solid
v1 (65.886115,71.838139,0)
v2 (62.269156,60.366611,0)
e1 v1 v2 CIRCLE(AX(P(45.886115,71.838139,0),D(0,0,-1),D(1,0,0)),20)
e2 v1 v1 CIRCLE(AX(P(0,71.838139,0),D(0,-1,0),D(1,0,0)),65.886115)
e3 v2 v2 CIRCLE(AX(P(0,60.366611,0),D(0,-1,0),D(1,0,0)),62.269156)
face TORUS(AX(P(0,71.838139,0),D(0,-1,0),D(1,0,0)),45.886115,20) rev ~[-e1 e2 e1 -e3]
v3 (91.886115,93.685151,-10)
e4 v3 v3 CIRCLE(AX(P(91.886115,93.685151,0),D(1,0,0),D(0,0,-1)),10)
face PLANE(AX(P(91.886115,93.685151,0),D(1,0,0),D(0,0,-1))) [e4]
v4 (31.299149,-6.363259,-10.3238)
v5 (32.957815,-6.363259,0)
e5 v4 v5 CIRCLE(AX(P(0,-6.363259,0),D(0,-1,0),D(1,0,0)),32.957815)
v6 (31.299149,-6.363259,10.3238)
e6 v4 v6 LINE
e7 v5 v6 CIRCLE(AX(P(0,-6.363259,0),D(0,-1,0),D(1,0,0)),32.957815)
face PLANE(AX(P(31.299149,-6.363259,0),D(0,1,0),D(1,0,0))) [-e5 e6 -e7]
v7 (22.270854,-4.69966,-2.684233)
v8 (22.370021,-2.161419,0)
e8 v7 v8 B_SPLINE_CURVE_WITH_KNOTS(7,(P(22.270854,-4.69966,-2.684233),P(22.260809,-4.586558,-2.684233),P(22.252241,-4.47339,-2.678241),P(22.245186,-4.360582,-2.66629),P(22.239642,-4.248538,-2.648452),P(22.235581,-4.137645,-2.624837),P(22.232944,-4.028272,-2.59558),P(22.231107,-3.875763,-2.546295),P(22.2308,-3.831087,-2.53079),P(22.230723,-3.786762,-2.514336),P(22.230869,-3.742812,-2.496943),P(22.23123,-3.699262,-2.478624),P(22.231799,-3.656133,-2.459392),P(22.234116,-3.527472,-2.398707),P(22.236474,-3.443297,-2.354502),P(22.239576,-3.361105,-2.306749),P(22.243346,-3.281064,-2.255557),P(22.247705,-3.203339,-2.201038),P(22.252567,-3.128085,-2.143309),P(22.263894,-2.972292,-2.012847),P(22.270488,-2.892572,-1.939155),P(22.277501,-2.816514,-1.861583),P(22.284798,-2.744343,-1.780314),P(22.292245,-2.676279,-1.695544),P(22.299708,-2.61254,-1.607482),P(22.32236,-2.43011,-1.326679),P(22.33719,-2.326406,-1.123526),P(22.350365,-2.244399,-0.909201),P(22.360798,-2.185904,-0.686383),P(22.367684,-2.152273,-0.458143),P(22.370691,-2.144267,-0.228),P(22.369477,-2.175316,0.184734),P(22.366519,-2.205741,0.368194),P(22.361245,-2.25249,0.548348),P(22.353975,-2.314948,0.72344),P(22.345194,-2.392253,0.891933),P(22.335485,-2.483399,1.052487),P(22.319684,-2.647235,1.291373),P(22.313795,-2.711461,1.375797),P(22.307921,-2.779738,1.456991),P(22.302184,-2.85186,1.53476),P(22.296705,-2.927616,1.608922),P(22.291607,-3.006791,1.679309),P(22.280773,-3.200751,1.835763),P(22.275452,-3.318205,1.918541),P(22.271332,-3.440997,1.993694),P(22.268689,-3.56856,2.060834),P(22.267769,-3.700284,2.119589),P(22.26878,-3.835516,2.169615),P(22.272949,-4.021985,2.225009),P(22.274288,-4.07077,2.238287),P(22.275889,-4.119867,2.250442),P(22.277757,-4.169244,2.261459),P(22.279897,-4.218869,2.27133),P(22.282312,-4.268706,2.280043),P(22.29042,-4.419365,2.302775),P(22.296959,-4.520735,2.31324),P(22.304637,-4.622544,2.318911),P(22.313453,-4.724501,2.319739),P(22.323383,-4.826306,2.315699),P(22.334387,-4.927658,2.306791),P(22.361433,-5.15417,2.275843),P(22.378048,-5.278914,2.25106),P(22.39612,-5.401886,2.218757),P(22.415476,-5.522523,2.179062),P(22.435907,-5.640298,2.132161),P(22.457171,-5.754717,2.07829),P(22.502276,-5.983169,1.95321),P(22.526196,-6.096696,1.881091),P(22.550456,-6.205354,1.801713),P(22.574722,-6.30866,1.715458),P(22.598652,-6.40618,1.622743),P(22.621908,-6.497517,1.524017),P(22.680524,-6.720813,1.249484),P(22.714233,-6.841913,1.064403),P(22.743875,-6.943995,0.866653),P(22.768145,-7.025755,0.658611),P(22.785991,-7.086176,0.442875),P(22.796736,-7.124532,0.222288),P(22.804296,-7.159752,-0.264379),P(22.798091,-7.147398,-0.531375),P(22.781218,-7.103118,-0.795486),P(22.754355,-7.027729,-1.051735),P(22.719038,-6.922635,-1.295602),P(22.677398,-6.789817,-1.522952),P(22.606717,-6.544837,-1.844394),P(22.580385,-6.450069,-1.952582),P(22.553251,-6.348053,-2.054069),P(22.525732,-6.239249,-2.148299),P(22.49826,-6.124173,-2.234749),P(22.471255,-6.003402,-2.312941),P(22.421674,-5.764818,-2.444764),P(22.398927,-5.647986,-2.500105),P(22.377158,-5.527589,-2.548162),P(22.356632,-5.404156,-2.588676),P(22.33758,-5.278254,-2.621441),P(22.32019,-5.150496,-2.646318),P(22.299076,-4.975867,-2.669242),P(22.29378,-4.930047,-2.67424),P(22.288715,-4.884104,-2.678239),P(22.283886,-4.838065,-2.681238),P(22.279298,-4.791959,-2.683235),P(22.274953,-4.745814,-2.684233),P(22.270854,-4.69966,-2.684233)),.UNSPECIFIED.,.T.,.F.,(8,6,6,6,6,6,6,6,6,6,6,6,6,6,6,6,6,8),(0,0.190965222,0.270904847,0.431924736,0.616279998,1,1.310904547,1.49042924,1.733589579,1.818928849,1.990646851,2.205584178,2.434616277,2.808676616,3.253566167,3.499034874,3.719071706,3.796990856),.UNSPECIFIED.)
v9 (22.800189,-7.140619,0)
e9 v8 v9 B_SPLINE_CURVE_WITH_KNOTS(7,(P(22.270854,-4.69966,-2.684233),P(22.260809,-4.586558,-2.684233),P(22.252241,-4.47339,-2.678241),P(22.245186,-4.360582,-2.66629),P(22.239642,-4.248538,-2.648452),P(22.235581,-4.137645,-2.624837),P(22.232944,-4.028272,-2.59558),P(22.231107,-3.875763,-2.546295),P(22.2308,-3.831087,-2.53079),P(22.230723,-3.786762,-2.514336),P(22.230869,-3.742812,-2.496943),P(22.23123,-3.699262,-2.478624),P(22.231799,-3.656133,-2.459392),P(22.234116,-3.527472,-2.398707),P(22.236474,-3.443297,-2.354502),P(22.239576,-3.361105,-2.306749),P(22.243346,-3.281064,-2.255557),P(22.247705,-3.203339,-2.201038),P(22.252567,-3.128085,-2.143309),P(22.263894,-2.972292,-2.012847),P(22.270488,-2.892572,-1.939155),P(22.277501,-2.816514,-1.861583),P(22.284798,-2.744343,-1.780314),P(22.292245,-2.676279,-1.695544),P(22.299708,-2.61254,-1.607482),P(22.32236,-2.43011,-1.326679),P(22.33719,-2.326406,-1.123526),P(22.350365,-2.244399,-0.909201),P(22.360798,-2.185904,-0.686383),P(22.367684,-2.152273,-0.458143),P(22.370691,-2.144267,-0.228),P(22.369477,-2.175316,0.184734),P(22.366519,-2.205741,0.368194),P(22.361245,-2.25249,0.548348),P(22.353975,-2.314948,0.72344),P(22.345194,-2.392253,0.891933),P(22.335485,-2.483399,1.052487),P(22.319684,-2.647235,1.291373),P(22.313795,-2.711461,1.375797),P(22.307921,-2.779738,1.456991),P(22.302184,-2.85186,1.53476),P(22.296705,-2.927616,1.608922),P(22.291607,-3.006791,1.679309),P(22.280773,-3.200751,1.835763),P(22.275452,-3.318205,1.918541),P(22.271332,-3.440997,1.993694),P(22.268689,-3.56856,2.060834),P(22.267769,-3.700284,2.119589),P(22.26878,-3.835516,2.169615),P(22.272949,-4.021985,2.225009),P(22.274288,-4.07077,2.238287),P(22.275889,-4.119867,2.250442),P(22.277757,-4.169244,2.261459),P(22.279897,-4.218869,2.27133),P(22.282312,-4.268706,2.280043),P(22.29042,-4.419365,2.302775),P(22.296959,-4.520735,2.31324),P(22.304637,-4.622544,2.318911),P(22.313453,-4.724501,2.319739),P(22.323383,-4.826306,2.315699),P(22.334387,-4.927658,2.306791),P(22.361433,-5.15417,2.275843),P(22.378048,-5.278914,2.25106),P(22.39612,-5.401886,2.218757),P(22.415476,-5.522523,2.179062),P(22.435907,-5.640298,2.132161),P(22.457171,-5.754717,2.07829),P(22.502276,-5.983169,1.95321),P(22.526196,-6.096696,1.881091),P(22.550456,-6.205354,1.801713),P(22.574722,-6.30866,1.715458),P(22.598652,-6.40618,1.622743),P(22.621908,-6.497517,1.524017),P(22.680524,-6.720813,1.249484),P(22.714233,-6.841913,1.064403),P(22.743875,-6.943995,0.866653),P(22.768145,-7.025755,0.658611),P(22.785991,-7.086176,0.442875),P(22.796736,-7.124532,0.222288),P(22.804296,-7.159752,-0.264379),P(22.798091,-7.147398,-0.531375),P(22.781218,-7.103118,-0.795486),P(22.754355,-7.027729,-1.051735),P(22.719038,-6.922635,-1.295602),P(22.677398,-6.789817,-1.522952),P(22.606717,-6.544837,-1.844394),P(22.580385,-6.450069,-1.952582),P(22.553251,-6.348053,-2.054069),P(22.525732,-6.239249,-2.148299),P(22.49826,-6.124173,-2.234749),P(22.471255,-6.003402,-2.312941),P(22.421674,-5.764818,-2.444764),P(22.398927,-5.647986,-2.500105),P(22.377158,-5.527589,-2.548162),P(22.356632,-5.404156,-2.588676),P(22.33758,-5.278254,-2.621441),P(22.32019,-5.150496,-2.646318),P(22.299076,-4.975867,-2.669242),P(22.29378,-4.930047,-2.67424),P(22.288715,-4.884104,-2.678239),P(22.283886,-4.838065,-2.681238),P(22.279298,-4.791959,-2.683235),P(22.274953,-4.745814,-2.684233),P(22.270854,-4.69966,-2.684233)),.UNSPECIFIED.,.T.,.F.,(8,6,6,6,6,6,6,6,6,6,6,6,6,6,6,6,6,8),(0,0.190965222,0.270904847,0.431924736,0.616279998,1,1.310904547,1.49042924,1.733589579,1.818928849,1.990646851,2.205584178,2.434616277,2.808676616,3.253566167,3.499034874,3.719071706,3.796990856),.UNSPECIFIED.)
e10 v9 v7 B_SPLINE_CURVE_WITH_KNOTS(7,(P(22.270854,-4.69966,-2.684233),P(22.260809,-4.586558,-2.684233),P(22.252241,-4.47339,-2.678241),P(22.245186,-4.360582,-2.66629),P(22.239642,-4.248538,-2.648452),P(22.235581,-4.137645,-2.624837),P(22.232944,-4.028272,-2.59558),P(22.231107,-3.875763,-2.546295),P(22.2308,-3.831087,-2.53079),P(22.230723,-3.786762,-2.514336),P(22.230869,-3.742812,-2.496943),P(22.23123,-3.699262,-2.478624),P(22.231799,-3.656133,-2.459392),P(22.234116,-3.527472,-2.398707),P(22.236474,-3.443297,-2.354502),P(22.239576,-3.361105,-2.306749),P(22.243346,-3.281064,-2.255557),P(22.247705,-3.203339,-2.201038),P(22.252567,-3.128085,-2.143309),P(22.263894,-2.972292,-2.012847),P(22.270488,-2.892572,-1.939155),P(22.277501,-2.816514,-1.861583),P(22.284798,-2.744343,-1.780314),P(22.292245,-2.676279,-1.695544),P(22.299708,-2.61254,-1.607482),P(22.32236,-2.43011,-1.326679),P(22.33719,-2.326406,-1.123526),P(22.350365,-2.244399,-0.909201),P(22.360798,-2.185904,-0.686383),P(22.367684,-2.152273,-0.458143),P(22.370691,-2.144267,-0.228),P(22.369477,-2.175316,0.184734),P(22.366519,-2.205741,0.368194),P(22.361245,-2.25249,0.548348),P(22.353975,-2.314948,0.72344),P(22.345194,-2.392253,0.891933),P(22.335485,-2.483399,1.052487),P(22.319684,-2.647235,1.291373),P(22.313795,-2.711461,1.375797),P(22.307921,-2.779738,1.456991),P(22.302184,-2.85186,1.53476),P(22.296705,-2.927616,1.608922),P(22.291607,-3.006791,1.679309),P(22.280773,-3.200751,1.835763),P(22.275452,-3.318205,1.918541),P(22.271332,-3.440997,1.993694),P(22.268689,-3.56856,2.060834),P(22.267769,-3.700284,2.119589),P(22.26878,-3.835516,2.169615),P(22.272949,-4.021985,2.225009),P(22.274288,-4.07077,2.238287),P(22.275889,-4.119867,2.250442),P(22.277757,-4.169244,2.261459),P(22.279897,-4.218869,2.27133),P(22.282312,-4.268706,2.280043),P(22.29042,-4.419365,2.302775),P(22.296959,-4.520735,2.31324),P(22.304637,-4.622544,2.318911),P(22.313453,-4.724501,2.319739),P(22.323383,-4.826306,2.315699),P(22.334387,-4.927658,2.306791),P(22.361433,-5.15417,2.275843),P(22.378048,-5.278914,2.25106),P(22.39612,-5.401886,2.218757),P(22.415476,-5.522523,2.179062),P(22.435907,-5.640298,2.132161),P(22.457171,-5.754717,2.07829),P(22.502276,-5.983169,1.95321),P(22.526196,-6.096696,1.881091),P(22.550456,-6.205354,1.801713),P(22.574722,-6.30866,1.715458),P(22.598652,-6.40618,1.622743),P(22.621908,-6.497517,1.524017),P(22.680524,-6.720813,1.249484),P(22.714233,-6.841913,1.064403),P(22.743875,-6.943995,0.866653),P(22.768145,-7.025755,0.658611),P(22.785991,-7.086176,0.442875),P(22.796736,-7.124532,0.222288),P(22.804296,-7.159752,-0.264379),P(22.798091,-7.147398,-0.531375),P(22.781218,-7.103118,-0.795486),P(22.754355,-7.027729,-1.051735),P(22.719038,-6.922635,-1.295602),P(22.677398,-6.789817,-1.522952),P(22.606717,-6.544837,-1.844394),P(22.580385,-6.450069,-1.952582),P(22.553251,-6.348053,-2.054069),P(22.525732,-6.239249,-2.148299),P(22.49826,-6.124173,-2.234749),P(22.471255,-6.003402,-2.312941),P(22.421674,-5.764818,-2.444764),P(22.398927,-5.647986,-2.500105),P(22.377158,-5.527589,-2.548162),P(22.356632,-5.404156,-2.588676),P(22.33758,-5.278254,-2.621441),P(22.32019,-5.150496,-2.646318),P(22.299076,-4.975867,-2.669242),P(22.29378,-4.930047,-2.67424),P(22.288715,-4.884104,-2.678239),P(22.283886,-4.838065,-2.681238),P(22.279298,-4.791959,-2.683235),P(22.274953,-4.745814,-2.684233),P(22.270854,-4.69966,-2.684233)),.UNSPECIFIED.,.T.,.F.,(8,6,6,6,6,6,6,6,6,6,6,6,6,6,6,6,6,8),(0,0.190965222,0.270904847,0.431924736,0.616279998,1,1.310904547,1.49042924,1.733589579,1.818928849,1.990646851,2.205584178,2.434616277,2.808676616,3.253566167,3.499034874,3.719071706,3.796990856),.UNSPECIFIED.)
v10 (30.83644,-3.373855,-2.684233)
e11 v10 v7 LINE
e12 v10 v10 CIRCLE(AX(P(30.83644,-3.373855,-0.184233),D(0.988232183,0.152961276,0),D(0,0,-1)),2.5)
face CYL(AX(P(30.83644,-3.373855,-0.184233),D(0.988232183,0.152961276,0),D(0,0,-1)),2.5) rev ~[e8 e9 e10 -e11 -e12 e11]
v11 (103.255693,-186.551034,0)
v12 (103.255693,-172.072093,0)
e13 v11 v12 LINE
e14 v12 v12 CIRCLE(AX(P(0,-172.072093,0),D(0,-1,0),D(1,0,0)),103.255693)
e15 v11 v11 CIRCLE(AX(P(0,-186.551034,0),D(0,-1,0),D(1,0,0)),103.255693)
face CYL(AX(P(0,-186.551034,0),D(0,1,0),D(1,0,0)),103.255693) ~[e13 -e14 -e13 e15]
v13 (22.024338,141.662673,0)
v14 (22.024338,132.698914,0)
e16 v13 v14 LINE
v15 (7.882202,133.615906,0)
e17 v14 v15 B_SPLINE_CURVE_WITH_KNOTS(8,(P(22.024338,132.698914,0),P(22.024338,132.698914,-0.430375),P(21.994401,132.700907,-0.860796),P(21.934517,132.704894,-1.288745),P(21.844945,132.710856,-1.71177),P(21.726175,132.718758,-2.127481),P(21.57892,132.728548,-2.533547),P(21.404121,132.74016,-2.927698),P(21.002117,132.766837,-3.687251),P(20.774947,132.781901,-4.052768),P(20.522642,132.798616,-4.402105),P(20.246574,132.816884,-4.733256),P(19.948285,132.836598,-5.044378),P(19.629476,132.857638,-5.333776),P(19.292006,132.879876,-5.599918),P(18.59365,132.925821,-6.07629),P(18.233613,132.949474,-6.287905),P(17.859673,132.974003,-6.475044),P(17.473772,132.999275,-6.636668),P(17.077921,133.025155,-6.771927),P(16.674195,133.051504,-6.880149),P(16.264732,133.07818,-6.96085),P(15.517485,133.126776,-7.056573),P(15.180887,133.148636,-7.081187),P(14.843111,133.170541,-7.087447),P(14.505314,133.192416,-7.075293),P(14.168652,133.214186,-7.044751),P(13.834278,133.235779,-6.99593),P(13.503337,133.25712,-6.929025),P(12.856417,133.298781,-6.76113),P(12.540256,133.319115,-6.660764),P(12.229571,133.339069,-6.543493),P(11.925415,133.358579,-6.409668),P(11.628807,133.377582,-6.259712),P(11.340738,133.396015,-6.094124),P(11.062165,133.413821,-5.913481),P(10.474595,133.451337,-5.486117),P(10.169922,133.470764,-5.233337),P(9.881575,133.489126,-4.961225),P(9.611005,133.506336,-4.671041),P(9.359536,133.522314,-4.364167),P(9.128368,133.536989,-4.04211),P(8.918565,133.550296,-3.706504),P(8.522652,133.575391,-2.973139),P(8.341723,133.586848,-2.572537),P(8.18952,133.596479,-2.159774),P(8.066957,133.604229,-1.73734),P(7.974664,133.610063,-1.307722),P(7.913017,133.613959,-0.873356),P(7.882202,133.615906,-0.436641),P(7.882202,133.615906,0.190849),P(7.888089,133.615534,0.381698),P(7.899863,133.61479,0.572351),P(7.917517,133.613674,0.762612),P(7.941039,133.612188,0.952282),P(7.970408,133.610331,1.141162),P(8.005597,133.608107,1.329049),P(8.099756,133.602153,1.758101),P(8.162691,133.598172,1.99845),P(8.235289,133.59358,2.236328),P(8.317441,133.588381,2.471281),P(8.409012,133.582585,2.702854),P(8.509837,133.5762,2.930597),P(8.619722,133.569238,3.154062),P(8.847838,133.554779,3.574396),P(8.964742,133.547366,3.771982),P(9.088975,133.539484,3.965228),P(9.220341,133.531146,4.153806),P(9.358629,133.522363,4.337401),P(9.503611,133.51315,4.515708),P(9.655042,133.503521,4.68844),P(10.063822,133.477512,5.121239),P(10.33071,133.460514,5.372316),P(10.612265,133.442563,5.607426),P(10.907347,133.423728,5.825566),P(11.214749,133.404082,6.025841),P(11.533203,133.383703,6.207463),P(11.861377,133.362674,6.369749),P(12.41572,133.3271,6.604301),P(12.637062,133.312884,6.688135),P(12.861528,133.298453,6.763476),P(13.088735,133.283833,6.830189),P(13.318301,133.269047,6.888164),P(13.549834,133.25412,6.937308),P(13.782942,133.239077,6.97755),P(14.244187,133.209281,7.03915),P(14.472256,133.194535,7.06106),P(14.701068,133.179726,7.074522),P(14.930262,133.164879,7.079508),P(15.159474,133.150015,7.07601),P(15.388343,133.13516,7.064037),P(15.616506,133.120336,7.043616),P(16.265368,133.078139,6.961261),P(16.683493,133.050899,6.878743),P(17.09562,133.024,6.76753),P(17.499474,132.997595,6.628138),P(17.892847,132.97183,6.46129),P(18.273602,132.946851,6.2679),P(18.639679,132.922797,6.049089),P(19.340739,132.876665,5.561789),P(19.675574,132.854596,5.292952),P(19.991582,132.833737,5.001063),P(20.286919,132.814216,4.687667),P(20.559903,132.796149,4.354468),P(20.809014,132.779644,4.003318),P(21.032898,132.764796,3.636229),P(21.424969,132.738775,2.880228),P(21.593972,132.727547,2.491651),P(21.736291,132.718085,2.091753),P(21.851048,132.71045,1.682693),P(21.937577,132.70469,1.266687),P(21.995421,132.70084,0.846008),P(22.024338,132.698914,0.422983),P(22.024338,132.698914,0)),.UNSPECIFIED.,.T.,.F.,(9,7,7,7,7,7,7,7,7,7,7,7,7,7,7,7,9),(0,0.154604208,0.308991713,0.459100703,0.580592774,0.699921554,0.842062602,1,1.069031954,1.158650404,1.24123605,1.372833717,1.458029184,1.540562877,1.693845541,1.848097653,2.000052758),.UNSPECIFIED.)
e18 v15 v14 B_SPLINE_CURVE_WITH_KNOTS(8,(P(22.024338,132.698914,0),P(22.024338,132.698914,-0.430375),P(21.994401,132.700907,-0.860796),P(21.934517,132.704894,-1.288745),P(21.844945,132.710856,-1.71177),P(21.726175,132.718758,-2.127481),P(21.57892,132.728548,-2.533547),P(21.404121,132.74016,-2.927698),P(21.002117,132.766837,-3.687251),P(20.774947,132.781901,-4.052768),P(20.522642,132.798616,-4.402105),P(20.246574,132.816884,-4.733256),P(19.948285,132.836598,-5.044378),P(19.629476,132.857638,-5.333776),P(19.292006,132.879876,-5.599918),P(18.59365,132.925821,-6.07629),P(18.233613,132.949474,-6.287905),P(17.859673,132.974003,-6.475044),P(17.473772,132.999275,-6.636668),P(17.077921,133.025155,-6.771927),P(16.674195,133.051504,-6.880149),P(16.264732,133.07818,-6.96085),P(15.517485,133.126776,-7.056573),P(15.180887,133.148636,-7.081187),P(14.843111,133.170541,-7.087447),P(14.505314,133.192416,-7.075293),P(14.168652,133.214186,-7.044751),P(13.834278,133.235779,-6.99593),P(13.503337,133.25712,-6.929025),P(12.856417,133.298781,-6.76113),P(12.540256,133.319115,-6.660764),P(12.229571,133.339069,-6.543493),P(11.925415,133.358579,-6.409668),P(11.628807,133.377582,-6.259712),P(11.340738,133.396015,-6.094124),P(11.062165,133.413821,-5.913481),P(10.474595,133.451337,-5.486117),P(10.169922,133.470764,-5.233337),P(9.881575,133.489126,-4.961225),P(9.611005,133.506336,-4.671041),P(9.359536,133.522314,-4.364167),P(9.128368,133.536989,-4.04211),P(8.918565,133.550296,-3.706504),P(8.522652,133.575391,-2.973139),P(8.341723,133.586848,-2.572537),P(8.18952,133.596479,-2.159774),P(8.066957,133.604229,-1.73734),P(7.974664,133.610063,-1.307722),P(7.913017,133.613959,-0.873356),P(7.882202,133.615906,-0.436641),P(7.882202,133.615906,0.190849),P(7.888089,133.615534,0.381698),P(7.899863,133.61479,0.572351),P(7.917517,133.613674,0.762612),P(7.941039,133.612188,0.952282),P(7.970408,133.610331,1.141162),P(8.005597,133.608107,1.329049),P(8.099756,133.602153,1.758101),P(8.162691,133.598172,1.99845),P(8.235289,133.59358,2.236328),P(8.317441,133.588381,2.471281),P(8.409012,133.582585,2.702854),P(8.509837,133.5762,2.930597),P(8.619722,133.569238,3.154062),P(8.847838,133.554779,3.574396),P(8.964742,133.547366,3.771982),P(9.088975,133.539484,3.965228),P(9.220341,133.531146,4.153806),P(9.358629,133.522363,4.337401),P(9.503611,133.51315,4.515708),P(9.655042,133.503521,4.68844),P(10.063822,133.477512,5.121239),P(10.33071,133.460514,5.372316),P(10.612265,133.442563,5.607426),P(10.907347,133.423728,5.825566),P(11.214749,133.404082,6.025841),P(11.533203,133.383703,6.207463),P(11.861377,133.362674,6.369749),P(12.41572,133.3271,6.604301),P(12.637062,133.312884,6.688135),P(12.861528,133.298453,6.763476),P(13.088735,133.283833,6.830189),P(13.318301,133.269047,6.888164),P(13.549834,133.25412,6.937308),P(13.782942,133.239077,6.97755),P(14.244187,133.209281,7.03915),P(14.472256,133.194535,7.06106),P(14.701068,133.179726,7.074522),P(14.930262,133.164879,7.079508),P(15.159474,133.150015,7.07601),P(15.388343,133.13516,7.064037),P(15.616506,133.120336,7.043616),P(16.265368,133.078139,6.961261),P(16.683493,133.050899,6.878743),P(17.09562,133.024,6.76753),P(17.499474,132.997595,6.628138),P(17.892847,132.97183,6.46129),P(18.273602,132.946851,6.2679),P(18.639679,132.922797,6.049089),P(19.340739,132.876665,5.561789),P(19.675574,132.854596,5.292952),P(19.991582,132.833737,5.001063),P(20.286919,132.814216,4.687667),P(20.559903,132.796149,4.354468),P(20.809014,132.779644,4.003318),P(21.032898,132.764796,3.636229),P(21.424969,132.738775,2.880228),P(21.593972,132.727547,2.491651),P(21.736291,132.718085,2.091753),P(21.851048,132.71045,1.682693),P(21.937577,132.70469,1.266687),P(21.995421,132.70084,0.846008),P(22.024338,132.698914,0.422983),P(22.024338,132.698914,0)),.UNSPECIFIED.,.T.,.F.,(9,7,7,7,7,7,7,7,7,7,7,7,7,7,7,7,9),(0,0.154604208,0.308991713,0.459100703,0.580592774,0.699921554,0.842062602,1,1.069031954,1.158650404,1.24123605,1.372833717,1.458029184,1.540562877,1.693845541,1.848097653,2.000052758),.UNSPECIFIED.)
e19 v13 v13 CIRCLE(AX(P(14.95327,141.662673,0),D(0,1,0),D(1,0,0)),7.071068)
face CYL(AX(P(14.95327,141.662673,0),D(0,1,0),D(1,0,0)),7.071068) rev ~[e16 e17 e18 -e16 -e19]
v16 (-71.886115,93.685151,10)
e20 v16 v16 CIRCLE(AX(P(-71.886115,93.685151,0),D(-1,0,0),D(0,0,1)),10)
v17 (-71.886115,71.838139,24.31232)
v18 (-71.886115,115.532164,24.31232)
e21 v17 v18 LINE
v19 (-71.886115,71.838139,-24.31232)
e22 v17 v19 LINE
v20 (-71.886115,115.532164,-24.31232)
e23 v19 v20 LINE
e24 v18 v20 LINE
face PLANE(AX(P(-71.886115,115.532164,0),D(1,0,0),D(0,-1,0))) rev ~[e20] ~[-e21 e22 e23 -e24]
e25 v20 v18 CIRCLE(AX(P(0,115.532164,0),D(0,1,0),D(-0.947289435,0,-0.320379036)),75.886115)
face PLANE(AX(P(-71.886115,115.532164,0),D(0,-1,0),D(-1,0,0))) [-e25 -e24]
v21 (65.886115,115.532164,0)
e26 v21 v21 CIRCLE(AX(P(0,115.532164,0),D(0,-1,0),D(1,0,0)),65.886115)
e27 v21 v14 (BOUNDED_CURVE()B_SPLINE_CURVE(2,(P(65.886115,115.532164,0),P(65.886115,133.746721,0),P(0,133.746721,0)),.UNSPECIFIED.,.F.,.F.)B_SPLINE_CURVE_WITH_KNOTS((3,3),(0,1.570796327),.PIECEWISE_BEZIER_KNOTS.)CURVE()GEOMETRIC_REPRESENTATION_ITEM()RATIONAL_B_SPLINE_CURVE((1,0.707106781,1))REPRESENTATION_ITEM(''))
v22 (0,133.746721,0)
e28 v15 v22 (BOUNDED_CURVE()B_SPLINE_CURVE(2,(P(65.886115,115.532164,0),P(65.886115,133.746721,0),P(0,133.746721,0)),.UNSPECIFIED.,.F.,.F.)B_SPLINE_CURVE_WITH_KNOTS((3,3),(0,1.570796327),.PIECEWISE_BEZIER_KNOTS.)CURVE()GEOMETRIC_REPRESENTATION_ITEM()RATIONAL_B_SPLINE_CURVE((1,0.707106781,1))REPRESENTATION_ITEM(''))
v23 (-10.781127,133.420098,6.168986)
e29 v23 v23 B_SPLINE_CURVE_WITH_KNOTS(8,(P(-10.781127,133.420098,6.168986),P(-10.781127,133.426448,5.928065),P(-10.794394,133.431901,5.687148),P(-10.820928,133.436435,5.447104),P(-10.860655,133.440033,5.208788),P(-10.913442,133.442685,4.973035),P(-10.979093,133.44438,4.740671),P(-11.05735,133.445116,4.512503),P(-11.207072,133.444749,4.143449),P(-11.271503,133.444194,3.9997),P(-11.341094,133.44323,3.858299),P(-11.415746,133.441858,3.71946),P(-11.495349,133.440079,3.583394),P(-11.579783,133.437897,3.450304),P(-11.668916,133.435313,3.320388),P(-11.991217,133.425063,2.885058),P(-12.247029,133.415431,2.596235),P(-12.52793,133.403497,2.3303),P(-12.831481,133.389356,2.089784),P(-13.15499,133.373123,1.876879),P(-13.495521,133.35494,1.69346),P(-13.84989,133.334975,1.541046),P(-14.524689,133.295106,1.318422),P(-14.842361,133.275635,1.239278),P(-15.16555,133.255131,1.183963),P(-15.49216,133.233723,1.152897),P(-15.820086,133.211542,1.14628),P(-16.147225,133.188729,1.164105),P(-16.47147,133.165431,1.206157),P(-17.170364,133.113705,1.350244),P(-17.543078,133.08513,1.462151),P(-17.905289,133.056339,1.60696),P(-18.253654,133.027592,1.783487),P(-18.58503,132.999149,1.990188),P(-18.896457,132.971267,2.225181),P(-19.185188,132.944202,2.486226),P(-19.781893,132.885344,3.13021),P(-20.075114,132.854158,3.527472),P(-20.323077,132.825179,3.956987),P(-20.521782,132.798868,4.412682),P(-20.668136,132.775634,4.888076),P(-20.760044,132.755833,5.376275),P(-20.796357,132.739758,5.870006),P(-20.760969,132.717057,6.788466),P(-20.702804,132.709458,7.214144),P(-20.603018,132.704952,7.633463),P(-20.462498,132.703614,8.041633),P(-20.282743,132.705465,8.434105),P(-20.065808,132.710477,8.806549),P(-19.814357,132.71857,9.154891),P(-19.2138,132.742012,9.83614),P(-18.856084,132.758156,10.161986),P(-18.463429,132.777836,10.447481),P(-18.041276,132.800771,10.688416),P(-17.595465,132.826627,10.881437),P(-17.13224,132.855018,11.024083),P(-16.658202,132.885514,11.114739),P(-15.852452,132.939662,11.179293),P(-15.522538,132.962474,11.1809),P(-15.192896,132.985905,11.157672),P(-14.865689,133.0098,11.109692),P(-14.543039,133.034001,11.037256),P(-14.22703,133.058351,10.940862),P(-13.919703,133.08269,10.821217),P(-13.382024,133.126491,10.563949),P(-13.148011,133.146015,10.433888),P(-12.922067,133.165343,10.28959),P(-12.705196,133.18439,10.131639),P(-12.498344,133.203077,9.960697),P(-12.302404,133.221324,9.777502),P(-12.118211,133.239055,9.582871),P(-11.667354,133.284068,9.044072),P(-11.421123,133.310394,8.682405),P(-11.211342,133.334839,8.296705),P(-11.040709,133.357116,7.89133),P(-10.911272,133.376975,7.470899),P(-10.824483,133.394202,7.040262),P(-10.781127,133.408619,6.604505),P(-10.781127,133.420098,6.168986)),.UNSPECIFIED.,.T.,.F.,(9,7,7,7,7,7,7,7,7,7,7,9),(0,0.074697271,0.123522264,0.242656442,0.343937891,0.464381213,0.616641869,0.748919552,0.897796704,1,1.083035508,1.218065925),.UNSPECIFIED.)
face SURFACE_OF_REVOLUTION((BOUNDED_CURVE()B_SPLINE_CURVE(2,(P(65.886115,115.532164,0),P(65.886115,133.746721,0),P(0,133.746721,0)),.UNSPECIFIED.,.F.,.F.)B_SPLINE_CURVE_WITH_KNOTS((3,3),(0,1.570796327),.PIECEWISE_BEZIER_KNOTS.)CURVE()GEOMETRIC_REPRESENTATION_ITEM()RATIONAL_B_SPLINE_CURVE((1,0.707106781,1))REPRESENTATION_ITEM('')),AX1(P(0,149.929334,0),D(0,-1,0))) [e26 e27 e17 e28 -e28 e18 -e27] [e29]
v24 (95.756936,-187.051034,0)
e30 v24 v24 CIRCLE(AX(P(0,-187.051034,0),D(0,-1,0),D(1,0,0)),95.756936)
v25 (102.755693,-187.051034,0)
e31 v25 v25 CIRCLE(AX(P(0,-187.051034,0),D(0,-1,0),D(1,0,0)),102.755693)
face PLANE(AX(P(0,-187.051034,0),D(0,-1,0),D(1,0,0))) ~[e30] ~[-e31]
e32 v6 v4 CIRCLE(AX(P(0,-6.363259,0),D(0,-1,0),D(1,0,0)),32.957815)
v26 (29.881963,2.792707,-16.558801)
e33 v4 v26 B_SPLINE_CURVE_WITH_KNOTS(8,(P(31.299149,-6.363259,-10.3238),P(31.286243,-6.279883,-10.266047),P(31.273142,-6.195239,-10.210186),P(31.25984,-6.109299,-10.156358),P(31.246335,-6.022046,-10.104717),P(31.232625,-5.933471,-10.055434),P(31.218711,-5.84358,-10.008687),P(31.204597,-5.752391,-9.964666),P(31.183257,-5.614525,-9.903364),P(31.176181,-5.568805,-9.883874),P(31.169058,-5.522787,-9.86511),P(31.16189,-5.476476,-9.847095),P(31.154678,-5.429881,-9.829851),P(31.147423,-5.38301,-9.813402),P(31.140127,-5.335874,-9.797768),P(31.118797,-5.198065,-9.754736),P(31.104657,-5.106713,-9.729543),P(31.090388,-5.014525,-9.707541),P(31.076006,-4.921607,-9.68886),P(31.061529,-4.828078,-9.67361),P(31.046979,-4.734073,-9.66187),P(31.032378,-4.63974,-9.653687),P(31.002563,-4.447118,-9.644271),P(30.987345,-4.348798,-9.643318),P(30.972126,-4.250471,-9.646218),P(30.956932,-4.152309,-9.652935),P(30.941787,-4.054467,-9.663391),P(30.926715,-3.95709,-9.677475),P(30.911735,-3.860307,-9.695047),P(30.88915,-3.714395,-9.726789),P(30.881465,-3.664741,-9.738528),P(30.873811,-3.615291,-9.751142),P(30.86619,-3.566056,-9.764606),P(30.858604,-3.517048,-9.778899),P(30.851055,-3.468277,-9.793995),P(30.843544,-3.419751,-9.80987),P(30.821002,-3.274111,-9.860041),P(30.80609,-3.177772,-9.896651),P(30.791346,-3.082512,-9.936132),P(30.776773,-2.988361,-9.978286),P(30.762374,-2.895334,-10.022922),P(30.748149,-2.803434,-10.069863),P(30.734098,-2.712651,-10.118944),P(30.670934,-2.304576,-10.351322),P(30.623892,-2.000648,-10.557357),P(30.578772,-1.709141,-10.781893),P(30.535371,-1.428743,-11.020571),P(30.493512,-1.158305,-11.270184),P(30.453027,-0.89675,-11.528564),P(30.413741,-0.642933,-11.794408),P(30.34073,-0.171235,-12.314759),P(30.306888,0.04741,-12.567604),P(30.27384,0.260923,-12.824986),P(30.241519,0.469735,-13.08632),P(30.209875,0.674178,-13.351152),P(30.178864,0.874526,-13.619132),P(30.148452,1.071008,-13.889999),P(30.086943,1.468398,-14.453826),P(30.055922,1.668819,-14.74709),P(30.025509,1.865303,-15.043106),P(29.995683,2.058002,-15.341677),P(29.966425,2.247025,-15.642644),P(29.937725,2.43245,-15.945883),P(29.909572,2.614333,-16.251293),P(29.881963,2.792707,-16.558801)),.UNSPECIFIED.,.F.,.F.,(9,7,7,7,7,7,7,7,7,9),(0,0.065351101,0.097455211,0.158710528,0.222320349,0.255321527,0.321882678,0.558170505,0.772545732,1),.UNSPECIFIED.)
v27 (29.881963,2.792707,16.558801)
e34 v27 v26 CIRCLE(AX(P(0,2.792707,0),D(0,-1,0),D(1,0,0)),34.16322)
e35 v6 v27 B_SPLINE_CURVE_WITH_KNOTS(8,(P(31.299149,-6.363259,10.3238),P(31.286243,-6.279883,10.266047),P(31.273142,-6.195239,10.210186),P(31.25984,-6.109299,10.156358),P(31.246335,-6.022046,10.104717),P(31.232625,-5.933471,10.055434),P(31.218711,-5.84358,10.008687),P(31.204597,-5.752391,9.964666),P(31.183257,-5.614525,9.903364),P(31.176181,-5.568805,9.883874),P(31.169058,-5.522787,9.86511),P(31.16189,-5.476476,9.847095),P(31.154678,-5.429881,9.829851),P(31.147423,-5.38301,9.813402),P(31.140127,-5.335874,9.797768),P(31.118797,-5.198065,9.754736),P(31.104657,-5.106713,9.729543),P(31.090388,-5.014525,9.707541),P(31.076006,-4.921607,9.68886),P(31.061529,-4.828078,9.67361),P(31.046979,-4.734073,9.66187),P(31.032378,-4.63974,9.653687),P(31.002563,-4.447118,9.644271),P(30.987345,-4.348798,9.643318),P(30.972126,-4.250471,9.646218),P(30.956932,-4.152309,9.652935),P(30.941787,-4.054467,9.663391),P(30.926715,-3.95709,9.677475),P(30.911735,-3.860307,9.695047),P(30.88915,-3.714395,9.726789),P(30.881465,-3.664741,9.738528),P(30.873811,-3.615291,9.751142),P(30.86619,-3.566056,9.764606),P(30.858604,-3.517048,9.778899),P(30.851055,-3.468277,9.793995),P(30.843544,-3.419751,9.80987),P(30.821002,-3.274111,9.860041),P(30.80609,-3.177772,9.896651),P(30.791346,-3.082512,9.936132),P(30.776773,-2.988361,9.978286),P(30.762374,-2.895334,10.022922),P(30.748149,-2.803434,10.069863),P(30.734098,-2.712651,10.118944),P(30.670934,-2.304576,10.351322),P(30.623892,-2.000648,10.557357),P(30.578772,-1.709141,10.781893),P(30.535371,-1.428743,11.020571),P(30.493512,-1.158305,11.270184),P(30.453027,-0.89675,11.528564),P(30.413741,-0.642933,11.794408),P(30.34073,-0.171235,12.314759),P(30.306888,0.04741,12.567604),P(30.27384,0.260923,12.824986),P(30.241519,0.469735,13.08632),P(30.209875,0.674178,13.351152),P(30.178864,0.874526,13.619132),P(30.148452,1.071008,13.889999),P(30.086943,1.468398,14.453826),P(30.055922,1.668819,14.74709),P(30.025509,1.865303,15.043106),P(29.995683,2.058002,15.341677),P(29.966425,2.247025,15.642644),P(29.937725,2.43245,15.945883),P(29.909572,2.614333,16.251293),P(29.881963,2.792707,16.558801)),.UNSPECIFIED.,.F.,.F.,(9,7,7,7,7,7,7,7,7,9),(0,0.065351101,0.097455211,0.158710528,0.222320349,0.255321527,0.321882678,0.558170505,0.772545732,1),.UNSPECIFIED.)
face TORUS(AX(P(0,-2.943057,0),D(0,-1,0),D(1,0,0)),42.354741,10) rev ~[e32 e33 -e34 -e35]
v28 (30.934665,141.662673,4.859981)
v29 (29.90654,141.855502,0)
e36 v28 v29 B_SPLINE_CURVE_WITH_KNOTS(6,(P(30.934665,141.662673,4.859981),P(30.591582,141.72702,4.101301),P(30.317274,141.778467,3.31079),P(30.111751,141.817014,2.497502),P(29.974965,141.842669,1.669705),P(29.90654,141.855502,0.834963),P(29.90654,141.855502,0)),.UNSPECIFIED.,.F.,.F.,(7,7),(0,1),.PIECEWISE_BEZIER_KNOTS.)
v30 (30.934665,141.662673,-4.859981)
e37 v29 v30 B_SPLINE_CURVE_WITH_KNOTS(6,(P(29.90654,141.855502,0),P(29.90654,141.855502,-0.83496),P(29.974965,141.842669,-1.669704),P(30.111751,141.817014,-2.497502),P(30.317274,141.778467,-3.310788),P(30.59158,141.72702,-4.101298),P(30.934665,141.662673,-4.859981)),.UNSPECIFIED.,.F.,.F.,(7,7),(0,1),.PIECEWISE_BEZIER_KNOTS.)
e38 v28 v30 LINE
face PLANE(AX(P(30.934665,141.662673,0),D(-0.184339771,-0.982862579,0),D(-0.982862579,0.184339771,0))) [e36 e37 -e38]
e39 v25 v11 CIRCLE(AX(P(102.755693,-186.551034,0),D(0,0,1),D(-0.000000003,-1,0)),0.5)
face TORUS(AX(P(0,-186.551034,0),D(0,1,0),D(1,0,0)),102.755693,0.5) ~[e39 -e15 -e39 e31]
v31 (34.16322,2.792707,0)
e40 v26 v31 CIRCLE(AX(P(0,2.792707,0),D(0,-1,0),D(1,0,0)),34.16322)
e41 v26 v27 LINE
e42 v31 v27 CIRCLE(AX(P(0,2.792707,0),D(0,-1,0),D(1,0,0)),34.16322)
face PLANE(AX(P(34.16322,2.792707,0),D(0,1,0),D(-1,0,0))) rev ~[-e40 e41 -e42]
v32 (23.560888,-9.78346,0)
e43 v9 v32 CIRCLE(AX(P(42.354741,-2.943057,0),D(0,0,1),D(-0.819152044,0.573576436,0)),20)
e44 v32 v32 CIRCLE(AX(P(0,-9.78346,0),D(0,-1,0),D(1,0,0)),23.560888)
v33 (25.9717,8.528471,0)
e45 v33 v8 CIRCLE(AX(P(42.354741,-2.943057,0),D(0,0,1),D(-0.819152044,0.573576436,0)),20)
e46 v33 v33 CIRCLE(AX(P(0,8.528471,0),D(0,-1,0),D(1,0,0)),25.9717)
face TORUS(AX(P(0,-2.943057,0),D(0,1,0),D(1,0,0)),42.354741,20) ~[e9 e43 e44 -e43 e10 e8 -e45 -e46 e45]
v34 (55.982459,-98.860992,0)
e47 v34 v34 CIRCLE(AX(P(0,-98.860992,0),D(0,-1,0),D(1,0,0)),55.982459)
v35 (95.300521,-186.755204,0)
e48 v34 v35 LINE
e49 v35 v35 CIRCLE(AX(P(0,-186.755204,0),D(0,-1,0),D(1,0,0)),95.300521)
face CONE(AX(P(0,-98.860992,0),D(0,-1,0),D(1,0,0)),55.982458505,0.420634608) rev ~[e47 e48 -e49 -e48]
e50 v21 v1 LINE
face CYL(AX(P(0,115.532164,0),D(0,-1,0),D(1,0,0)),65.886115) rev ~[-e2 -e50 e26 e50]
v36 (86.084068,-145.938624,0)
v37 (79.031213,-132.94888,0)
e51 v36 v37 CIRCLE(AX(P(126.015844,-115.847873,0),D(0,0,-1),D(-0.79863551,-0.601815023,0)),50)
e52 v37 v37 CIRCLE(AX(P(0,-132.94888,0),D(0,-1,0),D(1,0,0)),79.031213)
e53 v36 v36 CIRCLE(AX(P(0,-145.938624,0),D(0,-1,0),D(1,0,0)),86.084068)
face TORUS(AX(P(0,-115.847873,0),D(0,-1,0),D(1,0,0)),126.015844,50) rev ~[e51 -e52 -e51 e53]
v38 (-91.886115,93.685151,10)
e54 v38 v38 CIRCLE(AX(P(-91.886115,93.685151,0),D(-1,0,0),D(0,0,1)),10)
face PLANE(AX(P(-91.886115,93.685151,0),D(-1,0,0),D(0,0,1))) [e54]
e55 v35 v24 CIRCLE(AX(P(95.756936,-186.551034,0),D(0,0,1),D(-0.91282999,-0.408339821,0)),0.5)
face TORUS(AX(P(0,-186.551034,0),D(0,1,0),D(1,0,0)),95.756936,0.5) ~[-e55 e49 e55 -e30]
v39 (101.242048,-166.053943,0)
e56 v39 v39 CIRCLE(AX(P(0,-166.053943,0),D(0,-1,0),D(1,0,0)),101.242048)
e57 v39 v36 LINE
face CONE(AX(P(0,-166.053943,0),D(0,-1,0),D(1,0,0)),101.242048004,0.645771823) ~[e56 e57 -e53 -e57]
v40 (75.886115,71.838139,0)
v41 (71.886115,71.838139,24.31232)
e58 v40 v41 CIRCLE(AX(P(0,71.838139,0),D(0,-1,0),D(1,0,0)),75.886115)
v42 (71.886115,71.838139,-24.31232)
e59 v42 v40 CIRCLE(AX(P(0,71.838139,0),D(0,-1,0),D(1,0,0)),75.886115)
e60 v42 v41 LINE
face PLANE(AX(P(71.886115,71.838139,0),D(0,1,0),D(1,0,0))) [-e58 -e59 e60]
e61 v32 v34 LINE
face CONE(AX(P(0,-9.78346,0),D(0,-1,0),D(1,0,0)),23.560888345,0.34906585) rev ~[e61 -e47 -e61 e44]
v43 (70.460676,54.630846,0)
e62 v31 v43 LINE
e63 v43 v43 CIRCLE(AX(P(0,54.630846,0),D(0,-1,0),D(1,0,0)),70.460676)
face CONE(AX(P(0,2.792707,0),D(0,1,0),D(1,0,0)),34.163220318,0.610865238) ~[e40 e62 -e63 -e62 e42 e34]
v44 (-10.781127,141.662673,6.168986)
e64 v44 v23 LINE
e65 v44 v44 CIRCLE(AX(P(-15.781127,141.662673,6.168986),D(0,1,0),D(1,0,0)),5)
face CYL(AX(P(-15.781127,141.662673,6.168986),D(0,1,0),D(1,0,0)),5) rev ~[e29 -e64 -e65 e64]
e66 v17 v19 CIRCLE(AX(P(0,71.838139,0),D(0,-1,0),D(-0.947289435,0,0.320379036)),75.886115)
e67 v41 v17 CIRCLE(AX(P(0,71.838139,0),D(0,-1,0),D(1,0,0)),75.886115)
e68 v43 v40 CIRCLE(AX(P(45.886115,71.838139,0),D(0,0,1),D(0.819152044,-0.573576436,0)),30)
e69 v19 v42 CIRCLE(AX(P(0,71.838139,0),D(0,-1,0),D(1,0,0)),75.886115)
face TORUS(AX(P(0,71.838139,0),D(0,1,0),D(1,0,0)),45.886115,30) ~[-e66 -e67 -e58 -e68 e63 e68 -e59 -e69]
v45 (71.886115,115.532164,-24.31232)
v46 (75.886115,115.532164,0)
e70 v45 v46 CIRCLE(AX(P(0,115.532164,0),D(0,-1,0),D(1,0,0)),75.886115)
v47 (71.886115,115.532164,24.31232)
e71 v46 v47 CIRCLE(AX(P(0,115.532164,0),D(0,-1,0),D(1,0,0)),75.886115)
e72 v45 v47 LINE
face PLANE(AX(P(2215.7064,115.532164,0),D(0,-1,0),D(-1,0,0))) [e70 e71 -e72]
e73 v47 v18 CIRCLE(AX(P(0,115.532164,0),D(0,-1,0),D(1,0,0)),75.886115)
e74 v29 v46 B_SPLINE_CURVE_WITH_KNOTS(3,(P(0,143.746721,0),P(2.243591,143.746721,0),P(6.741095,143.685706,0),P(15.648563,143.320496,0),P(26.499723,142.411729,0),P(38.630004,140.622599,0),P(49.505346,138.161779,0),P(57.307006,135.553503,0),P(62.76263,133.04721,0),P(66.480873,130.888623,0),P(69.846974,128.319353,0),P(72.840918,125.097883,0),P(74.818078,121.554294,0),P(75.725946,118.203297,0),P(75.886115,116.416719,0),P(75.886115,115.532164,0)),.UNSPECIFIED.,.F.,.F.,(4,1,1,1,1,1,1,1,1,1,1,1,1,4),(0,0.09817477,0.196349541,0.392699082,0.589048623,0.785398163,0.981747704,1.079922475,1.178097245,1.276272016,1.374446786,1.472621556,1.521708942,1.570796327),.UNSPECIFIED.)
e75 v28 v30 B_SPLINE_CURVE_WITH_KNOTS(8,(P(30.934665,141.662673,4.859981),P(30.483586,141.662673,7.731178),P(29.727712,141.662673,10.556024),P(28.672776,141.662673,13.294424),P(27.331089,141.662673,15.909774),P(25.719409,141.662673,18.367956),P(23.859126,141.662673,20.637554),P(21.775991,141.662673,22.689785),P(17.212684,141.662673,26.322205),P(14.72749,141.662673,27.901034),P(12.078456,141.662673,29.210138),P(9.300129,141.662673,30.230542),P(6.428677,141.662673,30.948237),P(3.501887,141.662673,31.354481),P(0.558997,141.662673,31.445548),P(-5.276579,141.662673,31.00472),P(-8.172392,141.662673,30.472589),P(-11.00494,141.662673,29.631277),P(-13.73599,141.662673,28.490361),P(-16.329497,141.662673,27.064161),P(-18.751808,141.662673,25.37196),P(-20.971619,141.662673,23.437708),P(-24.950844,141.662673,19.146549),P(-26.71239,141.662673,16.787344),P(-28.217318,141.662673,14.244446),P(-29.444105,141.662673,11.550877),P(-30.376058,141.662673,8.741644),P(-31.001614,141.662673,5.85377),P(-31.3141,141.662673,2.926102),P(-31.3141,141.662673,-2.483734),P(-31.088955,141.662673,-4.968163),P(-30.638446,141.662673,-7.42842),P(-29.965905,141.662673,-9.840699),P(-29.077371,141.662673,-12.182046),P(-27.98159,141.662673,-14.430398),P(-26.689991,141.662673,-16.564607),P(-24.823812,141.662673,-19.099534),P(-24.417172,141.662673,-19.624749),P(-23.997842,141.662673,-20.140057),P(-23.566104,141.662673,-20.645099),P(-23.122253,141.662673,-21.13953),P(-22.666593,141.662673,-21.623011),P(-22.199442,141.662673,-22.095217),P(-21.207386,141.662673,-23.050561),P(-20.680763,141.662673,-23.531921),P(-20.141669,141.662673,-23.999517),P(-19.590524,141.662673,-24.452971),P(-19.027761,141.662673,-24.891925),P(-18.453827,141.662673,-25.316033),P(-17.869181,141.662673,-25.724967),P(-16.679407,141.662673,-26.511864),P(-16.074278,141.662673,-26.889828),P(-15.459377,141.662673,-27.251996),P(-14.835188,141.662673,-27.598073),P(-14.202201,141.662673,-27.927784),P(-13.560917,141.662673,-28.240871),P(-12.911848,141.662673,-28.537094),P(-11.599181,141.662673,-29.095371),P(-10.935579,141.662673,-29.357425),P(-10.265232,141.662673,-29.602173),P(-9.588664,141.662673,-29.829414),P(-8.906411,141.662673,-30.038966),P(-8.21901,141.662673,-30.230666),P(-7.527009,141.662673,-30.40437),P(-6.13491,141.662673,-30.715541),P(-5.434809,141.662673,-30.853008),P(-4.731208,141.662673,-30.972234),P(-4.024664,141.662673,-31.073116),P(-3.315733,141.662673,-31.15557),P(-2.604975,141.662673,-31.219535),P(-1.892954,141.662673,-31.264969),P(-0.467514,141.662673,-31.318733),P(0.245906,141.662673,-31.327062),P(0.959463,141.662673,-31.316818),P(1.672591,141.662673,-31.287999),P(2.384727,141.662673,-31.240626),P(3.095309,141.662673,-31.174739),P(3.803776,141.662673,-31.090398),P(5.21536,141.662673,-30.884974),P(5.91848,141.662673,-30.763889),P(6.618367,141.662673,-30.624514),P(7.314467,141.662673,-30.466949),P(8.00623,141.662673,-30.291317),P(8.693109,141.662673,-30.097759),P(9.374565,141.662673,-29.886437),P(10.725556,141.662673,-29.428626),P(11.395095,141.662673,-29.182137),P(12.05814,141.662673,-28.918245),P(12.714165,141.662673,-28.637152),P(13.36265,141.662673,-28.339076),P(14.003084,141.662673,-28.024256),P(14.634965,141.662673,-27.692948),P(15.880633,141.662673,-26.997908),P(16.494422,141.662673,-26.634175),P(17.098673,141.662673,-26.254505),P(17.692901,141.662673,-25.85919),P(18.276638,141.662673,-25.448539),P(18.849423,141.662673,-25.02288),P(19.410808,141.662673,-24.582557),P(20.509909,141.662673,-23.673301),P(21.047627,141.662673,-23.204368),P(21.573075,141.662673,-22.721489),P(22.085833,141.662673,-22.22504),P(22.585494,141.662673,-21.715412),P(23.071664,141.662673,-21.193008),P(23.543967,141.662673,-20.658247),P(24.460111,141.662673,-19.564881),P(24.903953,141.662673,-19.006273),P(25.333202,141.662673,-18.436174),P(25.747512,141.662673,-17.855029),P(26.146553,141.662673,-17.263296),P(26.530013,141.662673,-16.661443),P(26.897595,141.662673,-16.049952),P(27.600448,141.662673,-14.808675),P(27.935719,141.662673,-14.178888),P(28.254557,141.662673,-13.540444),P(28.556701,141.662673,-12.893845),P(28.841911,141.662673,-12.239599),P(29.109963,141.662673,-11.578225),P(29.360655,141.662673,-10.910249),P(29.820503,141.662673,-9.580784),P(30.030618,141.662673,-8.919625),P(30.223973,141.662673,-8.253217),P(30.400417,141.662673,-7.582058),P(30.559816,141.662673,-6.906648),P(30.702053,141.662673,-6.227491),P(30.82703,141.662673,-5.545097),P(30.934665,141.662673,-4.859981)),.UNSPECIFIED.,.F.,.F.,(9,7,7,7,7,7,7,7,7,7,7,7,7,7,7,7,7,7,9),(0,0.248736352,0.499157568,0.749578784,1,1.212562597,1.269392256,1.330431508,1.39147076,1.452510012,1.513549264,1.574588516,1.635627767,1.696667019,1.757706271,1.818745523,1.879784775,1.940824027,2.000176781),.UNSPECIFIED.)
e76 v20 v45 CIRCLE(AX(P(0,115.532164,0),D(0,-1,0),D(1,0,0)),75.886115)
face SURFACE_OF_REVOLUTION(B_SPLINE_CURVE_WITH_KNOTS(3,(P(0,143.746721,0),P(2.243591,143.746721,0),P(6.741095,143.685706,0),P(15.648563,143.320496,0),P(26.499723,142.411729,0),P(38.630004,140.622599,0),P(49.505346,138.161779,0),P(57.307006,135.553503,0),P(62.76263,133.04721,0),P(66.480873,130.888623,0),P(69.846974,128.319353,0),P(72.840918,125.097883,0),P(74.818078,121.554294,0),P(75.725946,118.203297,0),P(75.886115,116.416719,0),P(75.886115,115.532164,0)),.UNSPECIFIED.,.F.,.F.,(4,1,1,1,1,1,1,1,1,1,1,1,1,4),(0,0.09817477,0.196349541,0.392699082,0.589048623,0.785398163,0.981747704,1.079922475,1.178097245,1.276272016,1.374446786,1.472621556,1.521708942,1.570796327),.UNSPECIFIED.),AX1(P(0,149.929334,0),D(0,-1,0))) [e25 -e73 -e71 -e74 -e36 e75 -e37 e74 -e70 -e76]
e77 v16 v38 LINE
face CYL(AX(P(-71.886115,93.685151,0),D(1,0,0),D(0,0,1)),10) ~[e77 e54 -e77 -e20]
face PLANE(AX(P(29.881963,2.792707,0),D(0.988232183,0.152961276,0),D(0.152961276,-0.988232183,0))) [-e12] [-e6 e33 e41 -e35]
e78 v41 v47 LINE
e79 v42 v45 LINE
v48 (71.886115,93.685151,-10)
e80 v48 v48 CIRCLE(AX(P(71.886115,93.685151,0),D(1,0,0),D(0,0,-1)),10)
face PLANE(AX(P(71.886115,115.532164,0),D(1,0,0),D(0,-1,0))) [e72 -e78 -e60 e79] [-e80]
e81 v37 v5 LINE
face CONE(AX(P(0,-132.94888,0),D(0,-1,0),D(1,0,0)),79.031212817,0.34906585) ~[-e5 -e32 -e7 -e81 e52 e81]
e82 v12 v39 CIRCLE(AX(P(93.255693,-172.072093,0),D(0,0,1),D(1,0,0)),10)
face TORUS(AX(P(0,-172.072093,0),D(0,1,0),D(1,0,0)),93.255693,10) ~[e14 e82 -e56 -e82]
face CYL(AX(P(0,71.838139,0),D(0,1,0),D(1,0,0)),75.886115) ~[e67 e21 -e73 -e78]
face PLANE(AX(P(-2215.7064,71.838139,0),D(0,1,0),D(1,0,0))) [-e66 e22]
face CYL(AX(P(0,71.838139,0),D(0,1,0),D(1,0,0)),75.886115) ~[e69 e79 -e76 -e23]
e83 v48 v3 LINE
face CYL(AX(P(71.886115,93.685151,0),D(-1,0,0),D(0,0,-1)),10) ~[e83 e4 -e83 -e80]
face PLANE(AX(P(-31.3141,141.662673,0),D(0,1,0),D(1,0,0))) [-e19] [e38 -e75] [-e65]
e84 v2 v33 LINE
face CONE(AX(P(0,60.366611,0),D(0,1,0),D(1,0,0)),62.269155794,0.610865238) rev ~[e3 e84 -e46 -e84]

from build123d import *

# Parameters (mm, degrees)
CUT_EXTRUDE1_DEPTH      = 104.255693004
CUT_EXTRUDE1_DEPTH_BACK = 104.255693004
CUT_EXTRUDE2_REACH      = 330.714
SKETCH3_R               = 7.071067812
SKETCH3_R_2             = 5
CUT_EXTRUDE4_DEPTH      = 104.255693004
CUT_EXTRUDE4_DEPTH_BACK = 104.255693004
CUT_EXTRUDE5_REACH      = 162.61
SKETCH5_R               = 2.5
CUT_EXTRUDE6_DEPTH      = 104.255693004
CUT_EXTRUDE6_DEPTH_BACK = 104.255693004
CUT_EXTRUDE8_DEPTH      = 104.255693004
CUT_EXTRUDE8_DEPTH_BACK = 104.255693004
SKETCH9_R               = 10
BOSS_EXTRUDE1_DEPTH     = 20
SKETCH10_R              = 10
BOSS_EXTRUDE2_DEPTH     = 20


with BuildPart() as part:
    # Sketch1 → Revolve1 (revolve)
    with BuildSketch(Plane.XY):
        with BuildLine():
            Line((23.560888345, -9.783460321), (55.982458505, -98.860992239))
            Line((55.982458505, -98.860992239), (95.300521444, -186.755203806))
            ThreePointArc((95.300521444, -186.755203806), (95.484985115, -186.970608057), (95.756936438, -187.051033894))
            Line((95.756936438, -187.051033894), (102.755692904, -187.051033894))
            ThreePointArc((102.755692904, -187.051033894), (103.109246295, -186.904587285), (103.255692904, -186.551033894))
            Line((103.255692904, -186.551033894), (103.255692904, -172.072092881))
            ThreePointArc((103.255692904, -172.072092881), (102.738929456, -168.899046317), (101.242048004, -166.053942649))
            Line((101.242048004, -166.053942649), (86.084068354, -145.938624248))
            ThreePointArc((86.084068354, -145.938624248), (82.074988223, -139.705811103), (79.031212817, -132.948880257))
            Line((79.031212817, -132.948880257), (32.957814553, -6.363258887))
            ThreePointArc((32.957814553, -6.363258887), (32.440292147, -1.637795532), (34.163220318, 2.792706909))
            Line((34.163220318, 2.792706909), (70.460676237, 54.63084623))
            ThreePointArc((70.460676237, 54.63084623), (74.497623431, 62.816965336), (75.886114908, 71.838139321))
            Line((75.886114908, 71.838139321), (75.886114908, 115.532163543))
            add(Edge.make_bspline(
                [(0, 143.746721451), (2.243591022, 143.746721451), (6.741094716, 143.685705734), (15.648562627, 143.320496354), (26.499723252, 142.411729196), (38.630004208, 140.62259877), (49.505345526, 138.161778685), (57.307005523, 135.553502748), (62.762629698, 133.047210246), (66.480873303, 130.888623038), (69.846974194, 128.319352515), (72.840918039, 125.097883065), (74.818077713, 121.554294304), (75.72594574, 118.203296667), (75.886114908, 116.416718913), (75.886114908, 115.532163543)],
                knots=[0, 0, 0, 0, 0.09817477, 0.196349541, 0.392699082, 0.589048623, 0.785398163, 0.981747704, 1.079922475, 1.178097245, 1.276272016, 1.374446786, 1.472621556, 1.521708942, 1.570796327, 1.570796327, 1.570796327, 1.570796327], degree=3))
            Line((0, 143.746721451), (0, 133.746721451))
            add(Edge.make_bspline(
                [(65.886114908, 115.532163543), (65.886114908, 133.746721451), (0, 133.746721451)],
                knots=[0, 0, 0, 1.570796327, 1.570796327, 1.570796327], degree=2, weights=[1, 0.707106781, 1]))
            Line((65.886114908, 115.532163543), (65.886114908, 71.838139321))
            ThreePointArc((65.886114908, 71.838139321), (64.960453923, 65.824023331), (62.269155794, 60.366610594))
            Line((62.269155794, 60.366610594), (25.971699875, 8.528471273))
            ThreePointArc((25.971699875, 8.528471273), (22.525843533, -0.33253361), (23.560888345, -9.783460321))
        make_face()
    revolve(axis=Axis((0, 149.929333896, 0), (0, -1, 0)))

    # Sketch2 → Cut-Extrude1 (cut, two sides)
    with BuildSketch(Plane.XY) as cut_extrude1_sk:
        Polygon((-31.314100391, 141.662673258), (30.934664561, 141.662673258), (-13.694810222, 150.033108077), align=None)
    extrude(amount=CUT_EXTRUDE1_DEPTH, mode=Mode.SUBTRACT)
    extrude(cut_extrude1_sk.sketch, amount=-CUT_EXTRUDE1_DEPTH_BACK, mode=Mode.SUBTRACT)

    # Sketch3 → Cut-Extrude2 (cut, up to next)
    with BuildSketch(Plane(origin=(0, 141.662673258, 0), x_dir=(1, 0, 0), z_dir=(0, 1, 0)), mode=Mode.PRIVATE) as cut_extrude2_sk1:
        with Locations((14.953270005, 0)):
            Circle(SKETCH3_R)
    cut_extrude2_tool1 = extrude(cut_extrude2_sk1.sketch, amount=-CUT_EXTRUDE2_REACH, mode=Mode.PRIVATE) & part.part
    add(cut_extrude2_tool1.solids().sort_by_distance((14.95327, 141.662673, 0))[0], mode=Mode.SUBTRACT)
    # Sketch3 → Cut-Extrude2 (cut, up to next)
    with BuildSketch(Plane(origin=(0, 141.662673258, 0), x_dir=(1, 0, 0), z_dir=(0, 1, 0)), mode=Mode.PRIVATE) as cut_extrude2_sk2:
        with Locations((-15.781127398, -6.168986165)):
            Circle(SKETCH3_R_2)
    cut_extrude2_tool2 = extrude(cut_extrude2_sk2.sketch, amount=-CUT_EXTRUDE2_REACH, mode=Mode.PRIVATE) & part.part
    add(cut_extrude2_tool2.solids().sort_by_distance((-15.781127, 141.662673, 6.168986))[0], mode=Mode.SUBTRACT)

    # Sketch4 → Cut-Extrude4 (cut, two sides)
    with BuildSketch(Plane.XY) as cut_extrude4_sk:
        Polygon((34.163220318, 2.792706909), (29.881963174, 2.792706909), (31.299148565, -6.363258887), (32.957814553, -6.363258887), align=None)
    extrude(amount=CUT_EXTRUDE4_DEPTH, mode=Mode.SUBTRACT)
    extrude(cut_extrude4_sk.sketch, amount=-CUT_EXTRUDE4_DEPTH_BACK, mode=Mode.SUBTRACT)

    # Sketch5 → Cut-Extrude5 (cut, up to next)
    with BuildSketch(Plane(origin=(29.604959423, 4.582336471, 0), x_dir=(0, 0, -1), z_dir=(0.988232183, 0.152961276, 0)), mode=Mode.PRIVATE) as cut_extrude5_sk1:
        with Locations((0.184233006, -8.050933026)):
            Circle(SKETCH5_R)
    cut_extrude5_tool1 = extrude(cut_extrude5_sk1.sketch, amount=-CUT_EXTRUDE5_REACH, mode=Mode.PRIVATE) & part.part
    add(cut_extrude5_tool1.solids().sort_by_distance((30.83644, -3.373855, -0.184233))[0], mode=Mode.SUBTRACT)

    # Sketch7 → Cut-Extrude6 (cut, two sides)
    with BuildSketch(Plane.XY) as cut_extrude6_sk:
        Polygon((789.159543208, 115.532163543), (75.886114908, 115.532163543), (71.886114908, 115.532163543), (71.886114908, 71.838139321), (75.886114908, 71.838139321), (789.159543208, 71.838139321), (2215.706399806, 71.838139321), (2215.706399806, 115.532163543), align=None)
    extrude(amount=CUT_EXTRUDE6_DEPTH, mode=Mode.SUBTRACT)
    extrude(cut_extrude6_sk.sketch, amount=-CUT_EXTRUDE6_DEPTH_BACK, mode=Mode.SUBTRACT)

    # Sketch8 → Cut-Extrude8 (cut, two sides)
    with BuildSketch(Plane.XY) as cut_extrude8_sk:
        Polygon((-789.159543309, 115.532163543), (-75.886114908, 115.532163543), (-71.886114908, 115.532163543), (-71.886114908, 71.838139321), (-75.886114908, 71.838139321), (-789.159543309, 71.838139321), (-2215.706400112, 71.838139321), (-2215.706400112, 115.532163543), align=None)
    extrude(amount=CUT_EXTRUDE8_DEPTH, mode=Mode.SUBTRACT)
    extrude(cut_extrude8_sk.sketch, amount=-CUT_EXTRUDE8_DEPTH_BACK, mode=Mode.SUBTRACT)

    # Sketch9 → Boss-Extrude1 (add)
    with BuildSketch(Plane(origin=(71.886114908, 0, 0), x_dir=(0, 0, -1), z_dir=(1, 0, 0))):
        with Locations((0, 93.685151432)):
            Circle(SKETCH9_R)
    extrude(amount=BOSS_EXTRUDE1_DEPTH)

    # Sketch10 → Boss-Extrude2 (add)
    with BuildSketch(Plane.ZY.offset(71.886114908)):
        with Locations((0, 93.685151432)):
            Circle(SKETCH10_R)
    extrude(amount=BOSS_EXTRUDE2_DEPTH)


solid = part.part
